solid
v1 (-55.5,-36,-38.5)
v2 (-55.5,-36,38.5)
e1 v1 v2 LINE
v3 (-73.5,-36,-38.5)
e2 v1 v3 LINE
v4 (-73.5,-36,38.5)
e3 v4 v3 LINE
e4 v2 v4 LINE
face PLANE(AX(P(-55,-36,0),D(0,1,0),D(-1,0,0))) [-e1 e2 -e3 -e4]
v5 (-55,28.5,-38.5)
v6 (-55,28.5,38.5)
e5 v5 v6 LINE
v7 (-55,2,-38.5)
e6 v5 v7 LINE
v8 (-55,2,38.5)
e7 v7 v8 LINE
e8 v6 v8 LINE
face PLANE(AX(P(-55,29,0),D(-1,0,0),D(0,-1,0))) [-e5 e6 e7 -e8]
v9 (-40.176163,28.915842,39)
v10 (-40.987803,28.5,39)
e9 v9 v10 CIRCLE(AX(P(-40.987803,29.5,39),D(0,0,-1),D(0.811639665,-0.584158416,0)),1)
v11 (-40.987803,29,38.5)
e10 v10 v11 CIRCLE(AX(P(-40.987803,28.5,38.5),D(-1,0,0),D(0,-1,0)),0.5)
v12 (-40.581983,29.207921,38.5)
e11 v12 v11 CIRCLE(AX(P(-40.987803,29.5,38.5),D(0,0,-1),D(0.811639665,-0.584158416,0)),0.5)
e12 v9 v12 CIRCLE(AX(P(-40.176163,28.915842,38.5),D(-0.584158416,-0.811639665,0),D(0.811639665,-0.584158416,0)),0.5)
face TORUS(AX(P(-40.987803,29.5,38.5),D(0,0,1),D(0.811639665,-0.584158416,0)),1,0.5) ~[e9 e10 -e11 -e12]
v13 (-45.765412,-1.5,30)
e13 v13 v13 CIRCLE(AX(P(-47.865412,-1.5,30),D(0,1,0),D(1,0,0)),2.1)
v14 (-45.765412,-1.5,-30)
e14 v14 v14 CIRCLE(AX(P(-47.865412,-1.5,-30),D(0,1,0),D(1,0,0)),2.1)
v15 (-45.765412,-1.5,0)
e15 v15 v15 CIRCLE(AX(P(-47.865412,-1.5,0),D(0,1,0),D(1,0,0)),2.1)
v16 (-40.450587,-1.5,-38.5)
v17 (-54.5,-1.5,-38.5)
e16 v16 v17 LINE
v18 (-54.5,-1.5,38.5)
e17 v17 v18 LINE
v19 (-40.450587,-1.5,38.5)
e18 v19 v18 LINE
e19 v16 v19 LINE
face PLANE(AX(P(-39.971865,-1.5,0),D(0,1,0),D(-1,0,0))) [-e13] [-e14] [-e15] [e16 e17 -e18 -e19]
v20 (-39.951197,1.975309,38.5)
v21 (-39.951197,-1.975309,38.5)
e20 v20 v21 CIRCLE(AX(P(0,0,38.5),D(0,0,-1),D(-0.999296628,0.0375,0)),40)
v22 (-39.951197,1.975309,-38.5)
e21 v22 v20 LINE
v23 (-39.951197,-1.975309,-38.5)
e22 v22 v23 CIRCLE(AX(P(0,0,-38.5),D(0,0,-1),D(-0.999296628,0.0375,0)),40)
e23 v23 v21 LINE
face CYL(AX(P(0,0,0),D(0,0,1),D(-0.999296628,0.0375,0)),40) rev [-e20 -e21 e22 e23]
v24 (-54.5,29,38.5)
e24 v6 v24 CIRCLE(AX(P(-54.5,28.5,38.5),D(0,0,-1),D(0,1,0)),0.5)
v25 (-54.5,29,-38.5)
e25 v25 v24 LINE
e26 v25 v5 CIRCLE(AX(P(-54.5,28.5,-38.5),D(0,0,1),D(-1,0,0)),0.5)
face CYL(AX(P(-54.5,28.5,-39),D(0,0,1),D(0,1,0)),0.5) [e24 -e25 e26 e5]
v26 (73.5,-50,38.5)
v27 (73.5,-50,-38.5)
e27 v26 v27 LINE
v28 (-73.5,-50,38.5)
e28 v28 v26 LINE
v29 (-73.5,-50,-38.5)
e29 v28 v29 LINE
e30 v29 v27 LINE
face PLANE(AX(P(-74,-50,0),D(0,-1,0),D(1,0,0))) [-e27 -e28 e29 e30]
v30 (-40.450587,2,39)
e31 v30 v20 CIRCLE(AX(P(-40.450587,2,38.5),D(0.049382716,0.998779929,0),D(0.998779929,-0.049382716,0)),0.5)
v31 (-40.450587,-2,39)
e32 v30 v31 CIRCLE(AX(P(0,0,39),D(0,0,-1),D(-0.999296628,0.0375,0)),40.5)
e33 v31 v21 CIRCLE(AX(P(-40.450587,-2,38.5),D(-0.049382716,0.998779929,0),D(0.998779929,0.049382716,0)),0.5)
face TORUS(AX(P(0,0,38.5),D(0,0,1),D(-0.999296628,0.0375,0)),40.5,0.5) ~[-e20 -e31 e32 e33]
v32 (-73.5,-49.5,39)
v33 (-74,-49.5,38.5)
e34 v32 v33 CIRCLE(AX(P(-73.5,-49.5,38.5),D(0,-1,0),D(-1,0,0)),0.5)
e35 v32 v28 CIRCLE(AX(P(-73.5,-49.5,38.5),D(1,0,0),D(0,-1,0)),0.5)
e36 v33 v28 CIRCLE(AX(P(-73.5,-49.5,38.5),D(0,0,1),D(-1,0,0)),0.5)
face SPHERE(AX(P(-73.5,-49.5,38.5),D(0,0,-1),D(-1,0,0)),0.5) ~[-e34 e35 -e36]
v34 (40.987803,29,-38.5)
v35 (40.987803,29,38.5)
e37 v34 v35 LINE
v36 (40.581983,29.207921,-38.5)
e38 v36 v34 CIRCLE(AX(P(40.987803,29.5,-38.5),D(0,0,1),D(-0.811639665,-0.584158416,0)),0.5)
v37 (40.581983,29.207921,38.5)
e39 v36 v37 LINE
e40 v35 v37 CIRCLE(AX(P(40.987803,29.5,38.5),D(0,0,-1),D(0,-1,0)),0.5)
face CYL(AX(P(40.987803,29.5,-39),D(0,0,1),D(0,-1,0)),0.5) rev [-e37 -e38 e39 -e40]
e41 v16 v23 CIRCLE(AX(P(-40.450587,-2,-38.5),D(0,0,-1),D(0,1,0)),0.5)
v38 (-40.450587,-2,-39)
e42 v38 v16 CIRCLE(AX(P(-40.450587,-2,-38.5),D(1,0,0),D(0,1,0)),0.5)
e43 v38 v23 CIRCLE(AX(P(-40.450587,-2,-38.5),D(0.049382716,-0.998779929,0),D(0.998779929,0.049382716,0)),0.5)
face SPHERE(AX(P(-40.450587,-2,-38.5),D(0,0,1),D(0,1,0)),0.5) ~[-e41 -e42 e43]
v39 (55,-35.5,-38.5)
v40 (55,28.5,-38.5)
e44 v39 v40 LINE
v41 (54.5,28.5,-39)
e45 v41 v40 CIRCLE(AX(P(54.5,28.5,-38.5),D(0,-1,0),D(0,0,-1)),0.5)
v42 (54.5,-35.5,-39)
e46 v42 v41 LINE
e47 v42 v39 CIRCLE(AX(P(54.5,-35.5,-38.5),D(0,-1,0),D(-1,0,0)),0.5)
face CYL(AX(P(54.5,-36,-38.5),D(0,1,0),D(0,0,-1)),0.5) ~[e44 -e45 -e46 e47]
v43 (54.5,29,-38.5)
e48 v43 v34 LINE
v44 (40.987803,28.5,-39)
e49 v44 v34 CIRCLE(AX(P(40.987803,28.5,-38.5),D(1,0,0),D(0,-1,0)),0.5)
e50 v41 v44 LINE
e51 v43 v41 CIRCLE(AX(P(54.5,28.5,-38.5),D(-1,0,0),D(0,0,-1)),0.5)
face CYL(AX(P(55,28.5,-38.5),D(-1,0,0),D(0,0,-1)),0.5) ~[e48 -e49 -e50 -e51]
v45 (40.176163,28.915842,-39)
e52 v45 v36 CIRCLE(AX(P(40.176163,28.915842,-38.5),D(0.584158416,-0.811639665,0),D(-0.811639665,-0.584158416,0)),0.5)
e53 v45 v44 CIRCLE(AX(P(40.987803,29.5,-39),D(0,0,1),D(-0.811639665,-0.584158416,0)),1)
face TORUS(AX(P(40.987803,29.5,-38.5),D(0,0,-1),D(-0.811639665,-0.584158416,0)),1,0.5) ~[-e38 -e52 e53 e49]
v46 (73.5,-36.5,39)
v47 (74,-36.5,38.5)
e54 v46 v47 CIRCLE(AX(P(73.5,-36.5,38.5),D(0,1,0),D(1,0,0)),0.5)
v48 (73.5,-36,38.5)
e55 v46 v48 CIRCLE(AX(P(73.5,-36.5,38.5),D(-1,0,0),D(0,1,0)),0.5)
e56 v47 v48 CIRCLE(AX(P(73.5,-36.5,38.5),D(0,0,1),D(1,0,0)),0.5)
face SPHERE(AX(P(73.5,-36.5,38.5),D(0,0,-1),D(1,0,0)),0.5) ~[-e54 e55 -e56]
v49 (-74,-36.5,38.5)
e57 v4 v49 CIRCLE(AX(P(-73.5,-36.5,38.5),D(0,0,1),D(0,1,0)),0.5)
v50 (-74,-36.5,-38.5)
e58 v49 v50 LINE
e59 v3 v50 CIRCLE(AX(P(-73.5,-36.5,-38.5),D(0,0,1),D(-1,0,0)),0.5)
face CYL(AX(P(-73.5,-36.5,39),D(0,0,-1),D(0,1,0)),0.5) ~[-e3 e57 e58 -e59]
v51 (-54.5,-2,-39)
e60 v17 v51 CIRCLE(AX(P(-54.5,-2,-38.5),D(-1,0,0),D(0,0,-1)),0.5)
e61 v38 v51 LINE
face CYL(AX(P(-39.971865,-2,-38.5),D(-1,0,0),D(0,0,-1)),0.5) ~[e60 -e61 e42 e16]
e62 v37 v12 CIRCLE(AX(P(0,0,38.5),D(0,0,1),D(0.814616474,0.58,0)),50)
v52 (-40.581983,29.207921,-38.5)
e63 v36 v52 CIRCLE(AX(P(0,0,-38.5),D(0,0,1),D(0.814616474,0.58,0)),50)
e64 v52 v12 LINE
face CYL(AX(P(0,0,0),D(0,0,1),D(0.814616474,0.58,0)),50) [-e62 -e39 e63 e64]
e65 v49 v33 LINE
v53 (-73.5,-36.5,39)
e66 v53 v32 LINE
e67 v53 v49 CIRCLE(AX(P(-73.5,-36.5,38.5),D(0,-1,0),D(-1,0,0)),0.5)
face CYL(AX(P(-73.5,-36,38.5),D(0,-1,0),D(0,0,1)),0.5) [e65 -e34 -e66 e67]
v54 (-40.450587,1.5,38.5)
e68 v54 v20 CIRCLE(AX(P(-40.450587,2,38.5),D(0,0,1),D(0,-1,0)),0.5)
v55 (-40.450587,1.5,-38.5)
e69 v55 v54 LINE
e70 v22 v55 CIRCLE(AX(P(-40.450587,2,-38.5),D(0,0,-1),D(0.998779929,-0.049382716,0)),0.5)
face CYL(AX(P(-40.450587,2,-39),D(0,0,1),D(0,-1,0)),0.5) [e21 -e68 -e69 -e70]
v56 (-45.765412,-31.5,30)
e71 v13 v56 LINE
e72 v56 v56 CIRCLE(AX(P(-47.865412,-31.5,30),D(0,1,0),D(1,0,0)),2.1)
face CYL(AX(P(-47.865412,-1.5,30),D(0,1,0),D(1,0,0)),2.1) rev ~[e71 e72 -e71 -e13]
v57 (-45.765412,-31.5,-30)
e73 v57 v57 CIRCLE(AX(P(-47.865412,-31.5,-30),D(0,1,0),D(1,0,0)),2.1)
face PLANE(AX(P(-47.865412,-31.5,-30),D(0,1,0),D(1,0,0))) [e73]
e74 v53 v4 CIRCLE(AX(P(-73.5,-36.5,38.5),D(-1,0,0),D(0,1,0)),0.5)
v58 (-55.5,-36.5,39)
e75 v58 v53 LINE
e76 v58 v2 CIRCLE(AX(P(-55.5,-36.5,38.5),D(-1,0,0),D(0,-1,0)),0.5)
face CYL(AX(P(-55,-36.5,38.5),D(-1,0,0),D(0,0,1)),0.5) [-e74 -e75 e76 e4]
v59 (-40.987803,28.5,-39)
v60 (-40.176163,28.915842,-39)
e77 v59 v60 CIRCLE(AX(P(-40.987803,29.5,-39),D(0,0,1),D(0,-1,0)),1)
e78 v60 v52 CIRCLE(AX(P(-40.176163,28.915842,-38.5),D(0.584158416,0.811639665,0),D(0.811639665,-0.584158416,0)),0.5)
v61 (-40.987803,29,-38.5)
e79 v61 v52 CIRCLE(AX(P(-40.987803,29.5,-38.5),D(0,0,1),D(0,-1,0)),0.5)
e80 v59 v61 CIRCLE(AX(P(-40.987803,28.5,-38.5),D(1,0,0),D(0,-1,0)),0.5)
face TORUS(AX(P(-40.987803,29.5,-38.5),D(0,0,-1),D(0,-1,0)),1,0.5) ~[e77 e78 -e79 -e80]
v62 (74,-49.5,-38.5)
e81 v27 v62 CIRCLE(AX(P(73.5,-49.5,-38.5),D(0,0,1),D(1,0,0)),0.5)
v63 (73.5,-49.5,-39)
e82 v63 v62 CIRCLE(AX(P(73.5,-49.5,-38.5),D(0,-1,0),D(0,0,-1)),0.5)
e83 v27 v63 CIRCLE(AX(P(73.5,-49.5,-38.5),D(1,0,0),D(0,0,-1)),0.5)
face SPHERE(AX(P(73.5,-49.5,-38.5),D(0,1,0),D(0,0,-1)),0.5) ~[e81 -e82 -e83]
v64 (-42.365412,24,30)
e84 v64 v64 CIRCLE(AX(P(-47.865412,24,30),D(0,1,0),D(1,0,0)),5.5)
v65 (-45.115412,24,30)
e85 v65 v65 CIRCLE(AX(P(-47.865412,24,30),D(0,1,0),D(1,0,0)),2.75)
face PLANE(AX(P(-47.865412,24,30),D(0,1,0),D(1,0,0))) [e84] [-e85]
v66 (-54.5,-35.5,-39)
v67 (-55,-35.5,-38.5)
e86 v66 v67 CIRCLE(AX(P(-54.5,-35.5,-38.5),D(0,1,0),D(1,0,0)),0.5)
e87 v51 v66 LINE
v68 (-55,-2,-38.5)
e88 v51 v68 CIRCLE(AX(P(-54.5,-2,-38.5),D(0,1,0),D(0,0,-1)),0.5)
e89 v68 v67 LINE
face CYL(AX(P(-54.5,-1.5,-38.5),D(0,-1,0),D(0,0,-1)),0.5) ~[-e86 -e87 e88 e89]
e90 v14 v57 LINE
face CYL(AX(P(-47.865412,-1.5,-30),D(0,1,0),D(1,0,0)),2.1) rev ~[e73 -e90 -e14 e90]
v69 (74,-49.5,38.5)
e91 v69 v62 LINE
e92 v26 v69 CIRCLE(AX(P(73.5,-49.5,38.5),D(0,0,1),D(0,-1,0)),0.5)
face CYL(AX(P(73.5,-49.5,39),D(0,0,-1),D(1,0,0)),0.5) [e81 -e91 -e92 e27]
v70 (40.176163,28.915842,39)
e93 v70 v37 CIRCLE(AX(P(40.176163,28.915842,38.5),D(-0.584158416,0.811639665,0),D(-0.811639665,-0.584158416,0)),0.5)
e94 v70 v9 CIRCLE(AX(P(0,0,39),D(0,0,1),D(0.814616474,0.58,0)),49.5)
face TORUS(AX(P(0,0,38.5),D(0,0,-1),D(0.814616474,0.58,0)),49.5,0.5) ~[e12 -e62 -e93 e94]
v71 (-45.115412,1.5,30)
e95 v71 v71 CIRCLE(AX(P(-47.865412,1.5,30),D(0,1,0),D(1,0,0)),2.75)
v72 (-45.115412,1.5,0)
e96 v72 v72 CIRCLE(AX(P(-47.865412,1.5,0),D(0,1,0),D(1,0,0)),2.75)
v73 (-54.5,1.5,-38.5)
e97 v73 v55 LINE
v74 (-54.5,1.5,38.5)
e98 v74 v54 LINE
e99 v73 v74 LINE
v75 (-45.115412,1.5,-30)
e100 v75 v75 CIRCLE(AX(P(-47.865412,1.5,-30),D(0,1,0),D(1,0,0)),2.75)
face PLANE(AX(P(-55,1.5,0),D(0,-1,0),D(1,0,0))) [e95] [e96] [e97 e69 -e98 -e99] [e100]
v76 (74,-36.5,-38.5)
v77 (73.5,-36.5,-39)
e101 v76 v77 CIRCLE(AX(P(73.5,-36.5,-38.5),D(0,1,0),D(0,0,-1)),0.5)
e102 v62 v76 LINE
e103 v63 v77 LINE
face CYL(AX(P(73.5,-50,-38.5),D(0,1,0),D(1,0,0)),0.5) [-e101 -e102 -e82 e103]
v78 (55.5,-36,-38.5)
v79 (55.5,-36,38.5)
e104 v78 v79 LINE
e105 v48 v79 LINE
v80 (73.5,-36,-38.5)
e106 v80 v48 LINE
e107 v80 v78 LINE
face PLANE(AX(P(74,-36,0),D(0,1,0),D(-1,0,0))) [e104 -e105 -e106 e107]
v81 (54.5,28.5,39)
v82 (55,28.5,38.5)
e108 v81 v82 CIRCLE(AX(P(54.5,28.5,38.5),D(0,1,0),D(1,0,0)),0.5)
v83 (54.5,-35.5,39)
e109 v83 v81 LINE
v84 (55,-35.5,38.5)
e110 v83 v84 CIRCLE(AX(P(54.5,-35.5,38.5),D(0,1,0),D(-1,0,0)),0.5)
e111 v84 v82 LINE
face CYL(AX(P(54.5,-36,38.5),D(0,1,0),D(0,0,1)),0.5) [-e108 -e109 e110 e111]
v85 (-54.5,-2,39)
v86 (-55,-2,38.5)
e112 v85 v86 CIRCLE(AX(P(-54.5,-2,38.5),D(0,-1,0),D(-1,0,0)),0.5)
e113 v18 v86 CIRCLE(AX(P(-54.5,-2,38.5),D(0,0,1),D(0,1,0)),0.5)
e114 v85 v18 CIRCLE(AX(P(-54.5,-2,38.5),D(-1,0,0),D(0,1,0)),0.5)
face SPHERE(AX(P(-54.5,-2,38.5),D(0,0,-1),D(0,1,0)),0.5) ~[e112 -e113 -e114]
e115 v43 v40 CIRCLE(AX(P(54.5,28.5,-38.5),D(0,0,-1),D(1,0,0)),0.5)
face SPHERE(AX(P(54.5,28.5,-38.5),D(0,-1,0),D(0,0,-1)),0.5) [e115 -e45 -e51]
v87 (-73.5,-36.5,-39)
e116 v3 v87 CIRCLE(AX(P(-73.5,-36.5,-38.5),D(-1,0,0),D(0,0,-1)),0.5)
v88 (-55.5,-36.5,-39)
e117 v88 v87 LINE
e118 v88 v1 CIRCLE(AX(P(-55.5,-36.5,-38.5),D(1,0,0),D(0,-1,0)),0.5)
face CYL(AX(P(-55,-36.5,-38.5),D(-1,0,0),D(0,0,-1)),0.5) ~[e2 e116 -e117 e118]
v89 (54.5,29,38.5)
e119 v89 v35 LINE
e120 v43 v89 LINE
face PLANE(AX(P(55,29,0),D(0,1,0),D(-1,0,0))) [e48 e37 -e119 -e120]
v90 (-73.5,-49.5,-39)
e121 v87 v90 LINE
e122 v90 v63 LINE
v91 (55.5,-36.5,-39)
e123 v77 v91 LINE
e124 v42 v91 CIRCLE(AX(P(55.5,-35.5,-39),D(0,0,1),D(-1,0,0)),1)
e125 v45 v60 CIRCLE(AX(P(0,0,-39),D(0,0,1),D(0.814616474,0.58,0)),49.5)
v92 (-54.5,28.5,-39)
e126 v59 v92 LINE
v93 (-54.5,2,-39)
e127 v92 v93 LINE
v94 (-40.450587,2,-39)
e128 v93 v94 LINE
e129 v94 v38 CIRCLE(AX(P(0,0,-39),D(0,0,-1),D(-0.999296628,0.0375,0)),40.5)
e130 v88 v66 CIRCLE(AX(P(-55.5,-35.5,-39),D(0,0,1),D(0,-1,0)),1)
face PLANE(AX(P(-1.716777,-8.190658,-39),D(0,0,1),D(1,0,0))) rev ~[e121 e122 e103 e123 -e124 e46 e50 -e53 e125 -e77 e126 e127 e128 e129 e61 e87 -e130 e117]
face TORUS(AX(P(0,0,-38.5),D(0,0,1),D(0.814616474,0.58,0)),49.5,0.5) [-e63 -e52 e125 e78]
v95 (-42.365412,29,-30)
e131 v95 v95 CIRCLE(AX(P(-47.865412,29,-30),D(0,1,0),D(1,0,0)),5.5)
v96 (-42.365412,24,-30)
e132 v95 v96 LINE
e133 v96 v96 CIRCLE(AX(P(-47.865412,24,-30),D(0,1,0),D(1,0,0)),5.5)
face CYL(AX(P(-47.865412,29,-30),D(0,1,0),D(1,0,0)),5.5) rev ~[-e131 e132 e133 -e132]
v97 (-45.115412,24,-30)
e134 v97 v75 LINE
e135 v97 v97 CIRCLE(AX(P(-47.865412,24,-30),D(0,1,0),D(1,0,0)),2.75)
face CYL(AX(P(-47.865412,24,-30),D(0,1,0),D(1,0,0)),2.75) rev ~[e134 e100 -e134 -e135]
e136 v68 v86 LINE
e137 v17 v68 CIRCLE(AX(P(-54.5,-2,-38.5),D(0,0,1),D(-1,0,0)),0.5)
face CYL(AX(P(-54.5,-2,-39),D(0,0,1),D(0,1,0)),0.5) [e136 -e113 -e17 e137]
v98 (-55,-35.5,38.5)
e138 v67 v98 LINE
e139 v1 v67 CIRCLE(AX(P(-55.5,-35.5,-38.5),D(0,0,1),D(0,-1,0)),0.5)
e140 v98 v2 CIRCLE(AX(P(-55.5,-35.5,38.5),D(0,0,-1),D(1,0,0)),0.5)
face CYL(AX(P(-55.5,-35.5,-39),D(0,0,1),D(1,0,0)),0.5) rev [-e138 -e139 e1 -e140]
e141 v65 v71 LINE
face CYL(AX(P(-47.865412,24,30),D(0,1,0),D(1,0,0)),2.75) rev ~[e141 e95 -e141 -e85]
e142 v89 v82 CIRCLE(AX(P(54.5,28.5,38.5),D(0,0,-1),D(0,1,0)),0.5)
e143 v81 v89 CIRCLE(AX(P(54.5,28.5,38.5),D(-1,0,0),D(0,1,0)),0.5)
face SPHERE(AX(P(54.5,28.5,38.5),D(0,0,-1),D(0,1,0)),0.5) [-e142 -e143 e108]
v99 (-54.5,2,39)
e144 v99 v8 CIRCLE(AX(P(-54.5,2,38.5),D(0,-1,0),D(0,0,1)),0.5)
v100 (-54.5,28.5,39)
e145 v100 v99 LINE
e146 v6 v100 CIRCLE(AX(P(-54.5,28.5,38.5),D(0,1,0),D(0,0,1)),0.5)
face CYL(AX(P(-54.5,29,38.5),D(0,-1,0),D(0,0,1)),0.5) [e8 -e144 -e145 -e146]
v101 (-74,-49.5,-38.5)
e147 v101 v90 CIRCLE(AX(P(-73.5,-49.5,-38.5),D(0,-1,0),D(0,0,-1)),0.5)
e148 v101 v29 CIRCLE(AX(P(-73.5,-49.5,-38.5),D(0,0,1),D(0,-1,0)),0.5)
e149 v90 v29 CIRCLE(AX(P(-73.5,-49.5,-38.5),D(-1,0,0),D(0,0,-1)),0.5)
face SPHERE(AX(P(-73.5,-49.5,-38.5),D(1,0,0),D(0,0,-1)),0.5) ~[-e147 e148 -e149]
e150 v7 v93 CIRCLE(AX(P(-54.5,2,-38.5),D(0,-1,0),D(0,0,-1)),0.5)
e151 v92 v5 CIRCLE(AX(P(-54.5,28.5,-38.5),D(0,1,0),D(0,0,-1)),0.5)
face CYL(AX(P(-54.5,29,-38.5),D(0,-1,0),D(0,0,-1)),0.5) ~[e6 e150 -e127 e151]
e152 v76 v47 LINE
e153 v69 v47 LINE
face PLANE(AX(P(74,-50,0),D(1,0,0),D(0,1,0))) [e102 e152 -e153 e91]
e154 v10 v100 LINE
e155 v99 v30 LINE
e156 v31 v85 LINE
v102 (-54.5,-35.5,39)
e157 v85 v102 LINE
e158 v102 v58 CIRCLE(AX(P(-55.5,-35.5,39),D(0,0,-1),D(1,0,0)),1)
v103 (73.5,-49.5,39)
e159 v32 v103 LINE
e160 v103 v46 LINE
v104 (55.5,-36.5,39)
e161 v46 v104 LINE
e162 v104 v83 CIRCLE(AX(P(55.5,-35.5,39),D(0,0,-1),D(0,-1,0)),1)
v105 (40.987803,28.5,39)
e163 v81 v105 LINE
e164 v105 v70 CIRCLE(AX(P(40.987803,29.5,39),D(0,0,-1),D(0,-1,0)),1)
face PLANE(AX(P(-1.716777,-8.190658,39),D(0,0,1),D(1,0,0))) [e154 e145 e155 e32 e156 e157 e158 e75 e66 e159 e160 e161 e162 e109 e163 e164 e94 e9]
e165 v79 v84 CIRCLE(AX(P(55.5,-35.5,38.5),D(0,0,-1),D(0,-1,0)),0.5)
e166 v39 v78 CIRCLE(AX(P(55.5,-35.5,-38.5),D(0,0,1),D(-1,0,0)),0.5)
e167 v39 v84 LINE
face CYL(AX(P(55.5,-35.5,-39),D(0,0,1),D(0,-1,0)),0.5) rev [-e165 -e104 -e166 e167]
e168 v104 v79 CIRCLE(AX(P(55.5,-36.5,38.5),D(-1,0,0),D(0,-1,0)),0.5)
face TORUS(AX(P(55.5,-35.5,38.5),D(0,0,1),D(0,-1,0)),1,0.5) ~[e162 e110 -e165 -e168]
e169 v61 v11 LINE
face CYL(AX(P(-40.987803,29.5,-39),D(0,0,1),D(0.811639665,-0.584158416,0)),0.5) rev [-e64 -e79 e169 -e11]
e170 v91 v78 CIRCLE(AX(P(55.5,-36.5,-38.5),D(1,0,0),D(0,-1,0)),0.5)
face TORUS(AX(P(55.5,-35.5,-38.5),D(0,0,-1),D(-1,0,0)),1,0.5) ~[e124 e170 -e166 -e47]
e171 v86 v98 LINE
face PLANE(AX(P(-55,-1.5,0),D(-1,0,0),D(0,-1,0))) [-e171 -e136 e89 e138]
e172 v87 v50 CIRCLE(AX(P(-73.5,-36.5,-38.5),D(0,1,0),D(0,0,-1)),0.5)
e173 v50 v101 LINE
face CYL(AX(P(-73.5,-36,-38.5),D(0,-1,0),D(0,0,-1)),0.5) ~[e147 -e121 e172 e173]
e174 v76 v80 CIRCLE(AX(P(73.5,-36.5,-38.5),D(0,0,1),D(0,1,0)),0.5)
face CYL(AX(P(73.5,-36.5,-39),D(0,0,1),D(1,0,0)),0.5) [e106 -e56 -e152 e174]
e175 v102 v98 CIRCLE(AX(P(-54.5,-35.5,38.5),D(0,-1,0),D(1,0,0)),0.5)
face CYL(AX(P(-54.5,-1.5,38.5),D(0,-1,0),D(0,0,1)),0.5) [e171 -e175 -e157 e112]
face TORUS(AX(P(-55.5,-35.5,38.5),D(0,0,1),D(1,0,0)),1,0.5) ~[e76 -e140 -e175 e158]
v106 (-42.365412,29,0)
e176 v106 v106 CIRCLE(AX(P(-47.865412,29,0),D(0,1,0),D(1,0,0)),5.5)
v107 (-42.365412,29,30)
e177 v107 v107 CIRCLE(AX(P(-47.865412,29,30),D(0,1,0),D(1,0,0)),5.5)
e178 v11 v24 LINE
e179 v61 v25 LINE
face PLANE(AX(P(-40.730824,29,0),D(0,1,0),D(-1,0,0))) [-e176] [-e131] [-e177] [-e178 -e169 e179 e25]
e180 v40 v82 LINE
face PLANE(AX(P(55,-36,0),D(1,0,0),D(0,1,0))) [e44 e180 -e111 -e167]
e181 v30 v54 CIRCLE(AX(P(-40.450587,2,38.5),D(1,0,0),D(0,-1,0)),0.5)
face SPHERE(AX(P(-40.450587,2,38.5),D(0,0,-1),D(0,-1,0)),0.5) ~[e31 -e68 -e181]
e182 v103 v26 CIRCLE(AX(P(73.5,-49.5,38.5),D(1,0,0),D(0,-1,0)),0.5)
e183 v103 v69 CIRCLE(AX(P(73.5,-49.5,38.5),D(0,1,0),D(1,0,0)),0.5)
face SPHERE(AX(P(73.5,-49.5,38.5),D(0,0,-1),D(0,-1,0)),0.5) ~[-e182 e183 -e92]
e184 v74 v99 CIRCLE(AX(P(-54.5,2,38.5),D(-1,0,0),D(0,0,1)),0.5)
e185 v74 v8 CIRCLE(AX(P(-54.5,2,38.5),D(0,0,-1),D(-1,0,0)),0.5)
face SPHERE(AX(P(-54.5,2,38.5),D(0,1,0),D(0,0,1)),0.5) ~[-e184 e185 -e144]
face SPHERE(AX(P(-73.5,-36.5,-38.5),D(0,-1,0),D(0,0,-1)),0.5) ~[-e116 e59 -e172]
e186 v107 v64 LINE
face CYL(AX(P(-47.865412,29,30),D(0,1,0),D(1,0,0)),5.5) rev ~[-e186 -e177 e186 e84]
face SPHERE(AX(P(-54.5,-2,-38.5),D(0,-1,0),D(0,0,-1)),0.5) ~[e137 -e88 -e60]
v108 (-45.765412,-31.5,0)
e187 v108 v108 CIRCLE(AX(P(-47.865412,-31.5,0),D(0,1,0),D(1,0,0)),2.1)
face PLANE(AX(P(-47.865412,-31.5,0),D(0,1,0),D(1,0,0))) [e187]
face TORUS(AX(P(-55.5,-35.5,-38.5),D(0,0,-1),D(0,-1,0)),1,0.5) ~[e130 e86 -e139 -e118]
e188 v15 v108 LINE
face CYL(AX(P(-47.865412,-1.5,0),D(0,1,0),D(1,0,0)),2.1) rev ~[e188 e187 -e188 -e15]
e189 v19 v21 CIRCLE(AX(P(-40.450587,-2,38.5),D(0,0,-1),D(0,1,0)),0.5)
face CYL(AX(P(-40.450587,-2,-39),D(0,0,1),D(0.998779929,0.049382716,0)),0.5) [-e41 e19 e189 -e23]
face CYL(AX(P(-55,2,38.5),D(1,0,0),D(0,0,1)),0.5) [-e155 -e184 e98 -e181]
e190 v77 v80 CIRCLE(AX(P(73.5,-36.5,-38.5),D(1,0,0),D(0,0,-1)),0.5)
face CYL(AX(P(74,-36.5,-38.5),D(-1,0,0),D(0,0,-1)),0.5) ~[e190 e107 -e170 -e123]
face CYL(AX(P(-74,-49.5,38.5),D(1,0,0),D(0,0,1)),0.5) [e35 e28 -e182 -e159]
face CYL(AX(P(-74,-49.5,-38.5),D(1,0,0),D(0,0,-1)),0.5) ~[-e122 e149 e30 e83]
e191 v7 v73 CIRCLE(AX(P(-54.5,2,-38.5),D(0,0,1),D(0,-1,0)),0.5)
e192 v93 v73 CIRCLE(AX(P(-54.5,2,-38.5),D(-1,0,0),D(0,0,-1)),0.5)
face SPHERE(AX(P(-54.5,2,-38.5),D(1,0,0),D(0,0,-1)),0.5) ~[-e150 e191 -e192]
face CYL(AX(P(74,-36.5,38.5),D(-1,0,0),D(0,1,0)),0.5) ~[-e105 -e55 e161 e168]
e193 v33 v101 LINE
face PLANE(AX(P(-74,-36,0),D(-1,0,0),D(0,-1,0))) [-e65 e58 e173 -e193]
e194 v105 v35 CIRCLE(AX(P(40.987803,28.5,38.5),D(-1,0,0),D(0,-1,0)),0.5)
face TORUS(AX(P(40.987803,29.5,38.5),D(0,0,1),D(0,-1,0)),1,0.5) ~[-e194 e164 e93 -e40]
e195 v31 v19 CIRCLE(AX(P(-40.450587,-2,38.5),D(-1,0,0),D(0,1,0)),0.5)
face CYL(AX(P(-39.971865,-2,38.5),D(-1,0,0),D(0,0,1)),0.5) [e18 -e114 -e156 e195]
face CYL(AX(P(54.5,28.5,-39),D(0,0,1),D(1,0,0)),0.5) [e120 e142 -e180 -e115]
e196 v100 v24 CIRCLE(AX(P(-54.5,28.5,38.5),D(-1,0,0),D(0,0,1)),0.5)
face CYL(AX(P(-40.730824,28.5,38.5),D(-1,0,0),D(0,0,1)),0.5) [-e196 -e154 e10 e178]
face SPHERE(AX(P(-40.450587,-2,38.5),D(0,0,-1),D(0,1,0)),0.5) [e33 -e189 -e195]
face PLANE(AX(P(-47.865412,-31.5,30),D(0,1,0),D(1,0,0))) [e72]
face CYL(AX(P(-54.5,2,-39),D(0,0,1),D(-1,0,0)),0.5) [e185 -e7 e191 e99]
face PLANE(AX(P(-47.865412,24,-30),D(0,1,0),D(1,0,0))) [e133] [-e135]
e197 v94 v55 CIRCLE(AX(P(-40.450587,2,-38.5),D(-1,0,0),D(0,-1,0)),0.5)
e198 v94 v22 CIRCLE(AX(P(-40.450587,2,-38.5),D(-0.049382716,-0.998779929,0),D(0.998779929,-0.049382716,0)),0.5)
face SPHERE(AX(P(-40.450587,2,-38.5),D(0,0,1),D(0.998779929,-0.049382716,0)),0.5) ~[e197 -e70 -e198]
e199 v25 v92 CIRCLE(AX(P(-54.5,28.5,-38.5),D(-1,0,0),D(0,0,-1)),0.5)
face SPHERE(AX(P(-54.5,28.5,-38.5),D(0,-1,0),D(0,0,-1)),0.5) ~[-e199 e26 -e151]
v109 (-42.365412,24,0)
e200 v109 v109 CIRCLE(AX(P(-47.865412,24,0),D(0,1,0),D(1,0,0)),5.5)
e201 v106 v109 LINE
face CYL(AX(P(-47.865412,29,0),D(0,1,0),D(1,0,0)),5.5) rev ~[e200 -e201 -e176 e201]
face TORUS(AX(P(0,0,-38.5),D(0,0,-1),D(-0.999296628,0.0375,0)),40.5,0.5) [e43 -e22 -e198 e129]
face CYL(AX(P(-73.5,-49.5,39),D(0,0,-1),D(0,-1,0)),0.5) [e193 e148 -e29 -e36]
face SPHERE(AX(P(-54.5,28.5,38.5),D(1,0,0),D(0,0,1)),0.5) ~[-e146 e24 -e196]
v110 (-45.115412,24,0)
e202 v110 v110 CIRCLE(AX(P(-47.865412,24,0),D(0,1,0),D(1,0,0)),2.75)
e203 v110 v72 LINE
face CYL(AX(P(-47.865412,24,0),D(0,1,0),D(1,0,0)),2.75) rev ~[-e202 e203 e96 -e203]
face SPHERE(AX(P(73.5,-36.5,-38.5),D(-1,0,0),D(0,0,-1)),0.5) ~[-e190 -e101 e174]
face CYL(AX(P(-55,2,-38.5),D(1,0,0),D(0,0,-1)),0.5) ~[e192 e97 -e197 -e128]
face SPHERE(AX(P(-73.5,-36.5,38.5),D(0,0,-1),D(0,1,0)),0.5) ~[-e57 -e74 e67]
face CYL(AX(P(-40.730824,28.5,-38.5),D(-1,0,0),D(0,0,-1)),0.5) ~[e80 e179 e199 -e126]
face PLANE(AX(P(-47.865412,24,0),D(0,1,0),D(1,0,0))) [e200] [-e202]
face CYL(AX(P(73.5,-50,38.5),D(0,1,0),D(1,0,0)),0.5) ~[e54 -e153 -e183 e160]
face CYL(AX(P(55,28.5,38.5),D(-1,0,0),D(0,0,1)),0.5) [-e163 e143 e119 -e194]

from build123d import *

# Parameters (mm, degrees)
EXTRUDE_1_DEPTH     = 39
SKETCH_2_R          = 5.5
CUT_EXTRUDE_1_DEPTH = 5
SKETCH_3_R          = 2.75
CUT_EXTRUDE_2_DEPTH = 25.5
SKETCH_4_R          = 2.1
CUT_EXTRUDE_3_DEPTH = 30
FILLET_1_R          = 0.5


with BuildPart() as part:
    # Эскиз1 → Бобышка-Вытянуть1 (new body, symmetric)
    with BuildSketch(Plane.XY):
        with BuildLine():
            Line((74, -50), (74, -36))
            Line((74, -36), (55, -36))
            Line((55, -36), (55, 29))
            Line((55, 29), (40.730823709, 29))
            ThreePointArc((40.730823709, 29), (0, 50), (-40.730823709, 29))
            Line((-40.730823709, 29), (-55, 29))
            Line((-55, 29), (-55, 1.5))
            Line((-55, 1.5), (-39.971865105, 1.5))
            ThreePointArc((-39.971865105, 1.5), (40, 0), (-39.971865105, -1.5))
            Line((-39.971865105, -1.5), (-55, -1.5))
            Line((-55, -1.5), (-55, -36))
            Line((-55, -36), (-74, -36))
            Line((-74, -36), (-74, -50))
            Line((-74, -50), (74, -50))
        make_face()
    extrude(amount=EXTRUDE_1_DEPTH, both=True)

    # Эскиз2 → Вырез-Вытянуть1 (cut)
    with BuildSketch(Plane(origin=(0, 29, 0), x_dir=(1, 0, 0), z_dir=(0, 1, 0))):
        with Locations((-47.865411854, 30)):
            Circle(SKETCH_2_R)
        with Locations((-47.865411854, 0)):
            Circle(SKETCH_2_R)
        with Locations((-47.865411854, -30)):
            Circle(SKETCH_2_R)
    extrude(amount=-CUT_EXTRUDE_1_DEPTH, mode=Mode.SUBTRACT)

    # Эскиз3 → Вырез-Вытянуть2 (cut)
    with BuildSketch(Plane(origin=(0, 24, 0), x_dir=(1, 0, 0), z_dir=(0, 1, 0))):
        with Locations((-47.865411854, 30)):
            Circle(SKETCH_3_R)
        with Locations((-47.865411854, 0)):
            Circle(SKETCH_3_R)
        with Locations((-47.865411854, -30)):
            Circle(SKETCH_3_R)
    extrude(amount=-CUT_EXTRUDE_2_DEPTH, mode=Mode.SUBTRACT)

    # Эскиз4 → Вырез-Вытянуть3 (cut)
    with BuildSketch(Plane(origin=(0, -1.5, 0), x_dir=(1, 0, 0), z_dir=(0, 1, 0))):
        with Locations((-47.865411854, 30)):
            Circle(SKETCH_4_R)
        with Locations((-47.865411854, 0)):
            Circle(SKETCH_4_R)
        with Locations((-47.865411854, -30)):
            Circle(SKETCH_4_R)
    extrude(amount=-CUT_EXTRUDE_3_DEPTH, mode=Mode.SUBTRACT)

    # Скругление1
    fillet_1_edges = [part.edges().sort_by_distance(p)[0] for p in [
        (-47.865411854, 29, 39),
        (55, -3.5, -39),
        (64.5, -36, -39),
        (74, -43, -39),
        (0, -50, -39),
        (-55, 15.25, 39),
        (-74, -43, -39),
        (-64.5, -36, -39),
        (-55, -18.75, -39),
        (-47.485932553, -1.5, -39),
        (40, 0, -39),
        (-47.485932553, 1.5, -39),
        (-55, 15.25, -39),
        (-47.485932553, 1.5, 39),
        (-47.865411854, 29, -39),
        (0, 50, -39),
        (47.865411854, 29, -39),
        (40, 0, 39),
        (55, 29, 0),
        (55, -36, 0),
        (74, -36, 0),
        (74, -50, 0),
        (-74, -50, 0),
        (-74, -36, 0),
        (-55, -36, 0),
        (-55, -1.5, 0),
        (-39.971865105, -1.5, 0),
        (-39.971865105, 1.5, 0),
        (-55, 1.5, 0),
        (-55, 29, 0),
        (-40.730823709, 29, 0),
        (40.730823709, 29, 0),
        (-47.485932553, -1.5, 39),
        (-55, -18.75, 39),
        (-64.5, -36, 39),
        (47.865411854, 29, 39),
        (-74, -43, 39),
        (0, -50, 39),
        (74, -43, 39),
        (64.5, -36, 39),
        (55, -3.5, 39),
        (0, 50, 39),
    ]]
    fillet(fillet_1_edges, radius=FILLET_1_R)


solid = part.part
